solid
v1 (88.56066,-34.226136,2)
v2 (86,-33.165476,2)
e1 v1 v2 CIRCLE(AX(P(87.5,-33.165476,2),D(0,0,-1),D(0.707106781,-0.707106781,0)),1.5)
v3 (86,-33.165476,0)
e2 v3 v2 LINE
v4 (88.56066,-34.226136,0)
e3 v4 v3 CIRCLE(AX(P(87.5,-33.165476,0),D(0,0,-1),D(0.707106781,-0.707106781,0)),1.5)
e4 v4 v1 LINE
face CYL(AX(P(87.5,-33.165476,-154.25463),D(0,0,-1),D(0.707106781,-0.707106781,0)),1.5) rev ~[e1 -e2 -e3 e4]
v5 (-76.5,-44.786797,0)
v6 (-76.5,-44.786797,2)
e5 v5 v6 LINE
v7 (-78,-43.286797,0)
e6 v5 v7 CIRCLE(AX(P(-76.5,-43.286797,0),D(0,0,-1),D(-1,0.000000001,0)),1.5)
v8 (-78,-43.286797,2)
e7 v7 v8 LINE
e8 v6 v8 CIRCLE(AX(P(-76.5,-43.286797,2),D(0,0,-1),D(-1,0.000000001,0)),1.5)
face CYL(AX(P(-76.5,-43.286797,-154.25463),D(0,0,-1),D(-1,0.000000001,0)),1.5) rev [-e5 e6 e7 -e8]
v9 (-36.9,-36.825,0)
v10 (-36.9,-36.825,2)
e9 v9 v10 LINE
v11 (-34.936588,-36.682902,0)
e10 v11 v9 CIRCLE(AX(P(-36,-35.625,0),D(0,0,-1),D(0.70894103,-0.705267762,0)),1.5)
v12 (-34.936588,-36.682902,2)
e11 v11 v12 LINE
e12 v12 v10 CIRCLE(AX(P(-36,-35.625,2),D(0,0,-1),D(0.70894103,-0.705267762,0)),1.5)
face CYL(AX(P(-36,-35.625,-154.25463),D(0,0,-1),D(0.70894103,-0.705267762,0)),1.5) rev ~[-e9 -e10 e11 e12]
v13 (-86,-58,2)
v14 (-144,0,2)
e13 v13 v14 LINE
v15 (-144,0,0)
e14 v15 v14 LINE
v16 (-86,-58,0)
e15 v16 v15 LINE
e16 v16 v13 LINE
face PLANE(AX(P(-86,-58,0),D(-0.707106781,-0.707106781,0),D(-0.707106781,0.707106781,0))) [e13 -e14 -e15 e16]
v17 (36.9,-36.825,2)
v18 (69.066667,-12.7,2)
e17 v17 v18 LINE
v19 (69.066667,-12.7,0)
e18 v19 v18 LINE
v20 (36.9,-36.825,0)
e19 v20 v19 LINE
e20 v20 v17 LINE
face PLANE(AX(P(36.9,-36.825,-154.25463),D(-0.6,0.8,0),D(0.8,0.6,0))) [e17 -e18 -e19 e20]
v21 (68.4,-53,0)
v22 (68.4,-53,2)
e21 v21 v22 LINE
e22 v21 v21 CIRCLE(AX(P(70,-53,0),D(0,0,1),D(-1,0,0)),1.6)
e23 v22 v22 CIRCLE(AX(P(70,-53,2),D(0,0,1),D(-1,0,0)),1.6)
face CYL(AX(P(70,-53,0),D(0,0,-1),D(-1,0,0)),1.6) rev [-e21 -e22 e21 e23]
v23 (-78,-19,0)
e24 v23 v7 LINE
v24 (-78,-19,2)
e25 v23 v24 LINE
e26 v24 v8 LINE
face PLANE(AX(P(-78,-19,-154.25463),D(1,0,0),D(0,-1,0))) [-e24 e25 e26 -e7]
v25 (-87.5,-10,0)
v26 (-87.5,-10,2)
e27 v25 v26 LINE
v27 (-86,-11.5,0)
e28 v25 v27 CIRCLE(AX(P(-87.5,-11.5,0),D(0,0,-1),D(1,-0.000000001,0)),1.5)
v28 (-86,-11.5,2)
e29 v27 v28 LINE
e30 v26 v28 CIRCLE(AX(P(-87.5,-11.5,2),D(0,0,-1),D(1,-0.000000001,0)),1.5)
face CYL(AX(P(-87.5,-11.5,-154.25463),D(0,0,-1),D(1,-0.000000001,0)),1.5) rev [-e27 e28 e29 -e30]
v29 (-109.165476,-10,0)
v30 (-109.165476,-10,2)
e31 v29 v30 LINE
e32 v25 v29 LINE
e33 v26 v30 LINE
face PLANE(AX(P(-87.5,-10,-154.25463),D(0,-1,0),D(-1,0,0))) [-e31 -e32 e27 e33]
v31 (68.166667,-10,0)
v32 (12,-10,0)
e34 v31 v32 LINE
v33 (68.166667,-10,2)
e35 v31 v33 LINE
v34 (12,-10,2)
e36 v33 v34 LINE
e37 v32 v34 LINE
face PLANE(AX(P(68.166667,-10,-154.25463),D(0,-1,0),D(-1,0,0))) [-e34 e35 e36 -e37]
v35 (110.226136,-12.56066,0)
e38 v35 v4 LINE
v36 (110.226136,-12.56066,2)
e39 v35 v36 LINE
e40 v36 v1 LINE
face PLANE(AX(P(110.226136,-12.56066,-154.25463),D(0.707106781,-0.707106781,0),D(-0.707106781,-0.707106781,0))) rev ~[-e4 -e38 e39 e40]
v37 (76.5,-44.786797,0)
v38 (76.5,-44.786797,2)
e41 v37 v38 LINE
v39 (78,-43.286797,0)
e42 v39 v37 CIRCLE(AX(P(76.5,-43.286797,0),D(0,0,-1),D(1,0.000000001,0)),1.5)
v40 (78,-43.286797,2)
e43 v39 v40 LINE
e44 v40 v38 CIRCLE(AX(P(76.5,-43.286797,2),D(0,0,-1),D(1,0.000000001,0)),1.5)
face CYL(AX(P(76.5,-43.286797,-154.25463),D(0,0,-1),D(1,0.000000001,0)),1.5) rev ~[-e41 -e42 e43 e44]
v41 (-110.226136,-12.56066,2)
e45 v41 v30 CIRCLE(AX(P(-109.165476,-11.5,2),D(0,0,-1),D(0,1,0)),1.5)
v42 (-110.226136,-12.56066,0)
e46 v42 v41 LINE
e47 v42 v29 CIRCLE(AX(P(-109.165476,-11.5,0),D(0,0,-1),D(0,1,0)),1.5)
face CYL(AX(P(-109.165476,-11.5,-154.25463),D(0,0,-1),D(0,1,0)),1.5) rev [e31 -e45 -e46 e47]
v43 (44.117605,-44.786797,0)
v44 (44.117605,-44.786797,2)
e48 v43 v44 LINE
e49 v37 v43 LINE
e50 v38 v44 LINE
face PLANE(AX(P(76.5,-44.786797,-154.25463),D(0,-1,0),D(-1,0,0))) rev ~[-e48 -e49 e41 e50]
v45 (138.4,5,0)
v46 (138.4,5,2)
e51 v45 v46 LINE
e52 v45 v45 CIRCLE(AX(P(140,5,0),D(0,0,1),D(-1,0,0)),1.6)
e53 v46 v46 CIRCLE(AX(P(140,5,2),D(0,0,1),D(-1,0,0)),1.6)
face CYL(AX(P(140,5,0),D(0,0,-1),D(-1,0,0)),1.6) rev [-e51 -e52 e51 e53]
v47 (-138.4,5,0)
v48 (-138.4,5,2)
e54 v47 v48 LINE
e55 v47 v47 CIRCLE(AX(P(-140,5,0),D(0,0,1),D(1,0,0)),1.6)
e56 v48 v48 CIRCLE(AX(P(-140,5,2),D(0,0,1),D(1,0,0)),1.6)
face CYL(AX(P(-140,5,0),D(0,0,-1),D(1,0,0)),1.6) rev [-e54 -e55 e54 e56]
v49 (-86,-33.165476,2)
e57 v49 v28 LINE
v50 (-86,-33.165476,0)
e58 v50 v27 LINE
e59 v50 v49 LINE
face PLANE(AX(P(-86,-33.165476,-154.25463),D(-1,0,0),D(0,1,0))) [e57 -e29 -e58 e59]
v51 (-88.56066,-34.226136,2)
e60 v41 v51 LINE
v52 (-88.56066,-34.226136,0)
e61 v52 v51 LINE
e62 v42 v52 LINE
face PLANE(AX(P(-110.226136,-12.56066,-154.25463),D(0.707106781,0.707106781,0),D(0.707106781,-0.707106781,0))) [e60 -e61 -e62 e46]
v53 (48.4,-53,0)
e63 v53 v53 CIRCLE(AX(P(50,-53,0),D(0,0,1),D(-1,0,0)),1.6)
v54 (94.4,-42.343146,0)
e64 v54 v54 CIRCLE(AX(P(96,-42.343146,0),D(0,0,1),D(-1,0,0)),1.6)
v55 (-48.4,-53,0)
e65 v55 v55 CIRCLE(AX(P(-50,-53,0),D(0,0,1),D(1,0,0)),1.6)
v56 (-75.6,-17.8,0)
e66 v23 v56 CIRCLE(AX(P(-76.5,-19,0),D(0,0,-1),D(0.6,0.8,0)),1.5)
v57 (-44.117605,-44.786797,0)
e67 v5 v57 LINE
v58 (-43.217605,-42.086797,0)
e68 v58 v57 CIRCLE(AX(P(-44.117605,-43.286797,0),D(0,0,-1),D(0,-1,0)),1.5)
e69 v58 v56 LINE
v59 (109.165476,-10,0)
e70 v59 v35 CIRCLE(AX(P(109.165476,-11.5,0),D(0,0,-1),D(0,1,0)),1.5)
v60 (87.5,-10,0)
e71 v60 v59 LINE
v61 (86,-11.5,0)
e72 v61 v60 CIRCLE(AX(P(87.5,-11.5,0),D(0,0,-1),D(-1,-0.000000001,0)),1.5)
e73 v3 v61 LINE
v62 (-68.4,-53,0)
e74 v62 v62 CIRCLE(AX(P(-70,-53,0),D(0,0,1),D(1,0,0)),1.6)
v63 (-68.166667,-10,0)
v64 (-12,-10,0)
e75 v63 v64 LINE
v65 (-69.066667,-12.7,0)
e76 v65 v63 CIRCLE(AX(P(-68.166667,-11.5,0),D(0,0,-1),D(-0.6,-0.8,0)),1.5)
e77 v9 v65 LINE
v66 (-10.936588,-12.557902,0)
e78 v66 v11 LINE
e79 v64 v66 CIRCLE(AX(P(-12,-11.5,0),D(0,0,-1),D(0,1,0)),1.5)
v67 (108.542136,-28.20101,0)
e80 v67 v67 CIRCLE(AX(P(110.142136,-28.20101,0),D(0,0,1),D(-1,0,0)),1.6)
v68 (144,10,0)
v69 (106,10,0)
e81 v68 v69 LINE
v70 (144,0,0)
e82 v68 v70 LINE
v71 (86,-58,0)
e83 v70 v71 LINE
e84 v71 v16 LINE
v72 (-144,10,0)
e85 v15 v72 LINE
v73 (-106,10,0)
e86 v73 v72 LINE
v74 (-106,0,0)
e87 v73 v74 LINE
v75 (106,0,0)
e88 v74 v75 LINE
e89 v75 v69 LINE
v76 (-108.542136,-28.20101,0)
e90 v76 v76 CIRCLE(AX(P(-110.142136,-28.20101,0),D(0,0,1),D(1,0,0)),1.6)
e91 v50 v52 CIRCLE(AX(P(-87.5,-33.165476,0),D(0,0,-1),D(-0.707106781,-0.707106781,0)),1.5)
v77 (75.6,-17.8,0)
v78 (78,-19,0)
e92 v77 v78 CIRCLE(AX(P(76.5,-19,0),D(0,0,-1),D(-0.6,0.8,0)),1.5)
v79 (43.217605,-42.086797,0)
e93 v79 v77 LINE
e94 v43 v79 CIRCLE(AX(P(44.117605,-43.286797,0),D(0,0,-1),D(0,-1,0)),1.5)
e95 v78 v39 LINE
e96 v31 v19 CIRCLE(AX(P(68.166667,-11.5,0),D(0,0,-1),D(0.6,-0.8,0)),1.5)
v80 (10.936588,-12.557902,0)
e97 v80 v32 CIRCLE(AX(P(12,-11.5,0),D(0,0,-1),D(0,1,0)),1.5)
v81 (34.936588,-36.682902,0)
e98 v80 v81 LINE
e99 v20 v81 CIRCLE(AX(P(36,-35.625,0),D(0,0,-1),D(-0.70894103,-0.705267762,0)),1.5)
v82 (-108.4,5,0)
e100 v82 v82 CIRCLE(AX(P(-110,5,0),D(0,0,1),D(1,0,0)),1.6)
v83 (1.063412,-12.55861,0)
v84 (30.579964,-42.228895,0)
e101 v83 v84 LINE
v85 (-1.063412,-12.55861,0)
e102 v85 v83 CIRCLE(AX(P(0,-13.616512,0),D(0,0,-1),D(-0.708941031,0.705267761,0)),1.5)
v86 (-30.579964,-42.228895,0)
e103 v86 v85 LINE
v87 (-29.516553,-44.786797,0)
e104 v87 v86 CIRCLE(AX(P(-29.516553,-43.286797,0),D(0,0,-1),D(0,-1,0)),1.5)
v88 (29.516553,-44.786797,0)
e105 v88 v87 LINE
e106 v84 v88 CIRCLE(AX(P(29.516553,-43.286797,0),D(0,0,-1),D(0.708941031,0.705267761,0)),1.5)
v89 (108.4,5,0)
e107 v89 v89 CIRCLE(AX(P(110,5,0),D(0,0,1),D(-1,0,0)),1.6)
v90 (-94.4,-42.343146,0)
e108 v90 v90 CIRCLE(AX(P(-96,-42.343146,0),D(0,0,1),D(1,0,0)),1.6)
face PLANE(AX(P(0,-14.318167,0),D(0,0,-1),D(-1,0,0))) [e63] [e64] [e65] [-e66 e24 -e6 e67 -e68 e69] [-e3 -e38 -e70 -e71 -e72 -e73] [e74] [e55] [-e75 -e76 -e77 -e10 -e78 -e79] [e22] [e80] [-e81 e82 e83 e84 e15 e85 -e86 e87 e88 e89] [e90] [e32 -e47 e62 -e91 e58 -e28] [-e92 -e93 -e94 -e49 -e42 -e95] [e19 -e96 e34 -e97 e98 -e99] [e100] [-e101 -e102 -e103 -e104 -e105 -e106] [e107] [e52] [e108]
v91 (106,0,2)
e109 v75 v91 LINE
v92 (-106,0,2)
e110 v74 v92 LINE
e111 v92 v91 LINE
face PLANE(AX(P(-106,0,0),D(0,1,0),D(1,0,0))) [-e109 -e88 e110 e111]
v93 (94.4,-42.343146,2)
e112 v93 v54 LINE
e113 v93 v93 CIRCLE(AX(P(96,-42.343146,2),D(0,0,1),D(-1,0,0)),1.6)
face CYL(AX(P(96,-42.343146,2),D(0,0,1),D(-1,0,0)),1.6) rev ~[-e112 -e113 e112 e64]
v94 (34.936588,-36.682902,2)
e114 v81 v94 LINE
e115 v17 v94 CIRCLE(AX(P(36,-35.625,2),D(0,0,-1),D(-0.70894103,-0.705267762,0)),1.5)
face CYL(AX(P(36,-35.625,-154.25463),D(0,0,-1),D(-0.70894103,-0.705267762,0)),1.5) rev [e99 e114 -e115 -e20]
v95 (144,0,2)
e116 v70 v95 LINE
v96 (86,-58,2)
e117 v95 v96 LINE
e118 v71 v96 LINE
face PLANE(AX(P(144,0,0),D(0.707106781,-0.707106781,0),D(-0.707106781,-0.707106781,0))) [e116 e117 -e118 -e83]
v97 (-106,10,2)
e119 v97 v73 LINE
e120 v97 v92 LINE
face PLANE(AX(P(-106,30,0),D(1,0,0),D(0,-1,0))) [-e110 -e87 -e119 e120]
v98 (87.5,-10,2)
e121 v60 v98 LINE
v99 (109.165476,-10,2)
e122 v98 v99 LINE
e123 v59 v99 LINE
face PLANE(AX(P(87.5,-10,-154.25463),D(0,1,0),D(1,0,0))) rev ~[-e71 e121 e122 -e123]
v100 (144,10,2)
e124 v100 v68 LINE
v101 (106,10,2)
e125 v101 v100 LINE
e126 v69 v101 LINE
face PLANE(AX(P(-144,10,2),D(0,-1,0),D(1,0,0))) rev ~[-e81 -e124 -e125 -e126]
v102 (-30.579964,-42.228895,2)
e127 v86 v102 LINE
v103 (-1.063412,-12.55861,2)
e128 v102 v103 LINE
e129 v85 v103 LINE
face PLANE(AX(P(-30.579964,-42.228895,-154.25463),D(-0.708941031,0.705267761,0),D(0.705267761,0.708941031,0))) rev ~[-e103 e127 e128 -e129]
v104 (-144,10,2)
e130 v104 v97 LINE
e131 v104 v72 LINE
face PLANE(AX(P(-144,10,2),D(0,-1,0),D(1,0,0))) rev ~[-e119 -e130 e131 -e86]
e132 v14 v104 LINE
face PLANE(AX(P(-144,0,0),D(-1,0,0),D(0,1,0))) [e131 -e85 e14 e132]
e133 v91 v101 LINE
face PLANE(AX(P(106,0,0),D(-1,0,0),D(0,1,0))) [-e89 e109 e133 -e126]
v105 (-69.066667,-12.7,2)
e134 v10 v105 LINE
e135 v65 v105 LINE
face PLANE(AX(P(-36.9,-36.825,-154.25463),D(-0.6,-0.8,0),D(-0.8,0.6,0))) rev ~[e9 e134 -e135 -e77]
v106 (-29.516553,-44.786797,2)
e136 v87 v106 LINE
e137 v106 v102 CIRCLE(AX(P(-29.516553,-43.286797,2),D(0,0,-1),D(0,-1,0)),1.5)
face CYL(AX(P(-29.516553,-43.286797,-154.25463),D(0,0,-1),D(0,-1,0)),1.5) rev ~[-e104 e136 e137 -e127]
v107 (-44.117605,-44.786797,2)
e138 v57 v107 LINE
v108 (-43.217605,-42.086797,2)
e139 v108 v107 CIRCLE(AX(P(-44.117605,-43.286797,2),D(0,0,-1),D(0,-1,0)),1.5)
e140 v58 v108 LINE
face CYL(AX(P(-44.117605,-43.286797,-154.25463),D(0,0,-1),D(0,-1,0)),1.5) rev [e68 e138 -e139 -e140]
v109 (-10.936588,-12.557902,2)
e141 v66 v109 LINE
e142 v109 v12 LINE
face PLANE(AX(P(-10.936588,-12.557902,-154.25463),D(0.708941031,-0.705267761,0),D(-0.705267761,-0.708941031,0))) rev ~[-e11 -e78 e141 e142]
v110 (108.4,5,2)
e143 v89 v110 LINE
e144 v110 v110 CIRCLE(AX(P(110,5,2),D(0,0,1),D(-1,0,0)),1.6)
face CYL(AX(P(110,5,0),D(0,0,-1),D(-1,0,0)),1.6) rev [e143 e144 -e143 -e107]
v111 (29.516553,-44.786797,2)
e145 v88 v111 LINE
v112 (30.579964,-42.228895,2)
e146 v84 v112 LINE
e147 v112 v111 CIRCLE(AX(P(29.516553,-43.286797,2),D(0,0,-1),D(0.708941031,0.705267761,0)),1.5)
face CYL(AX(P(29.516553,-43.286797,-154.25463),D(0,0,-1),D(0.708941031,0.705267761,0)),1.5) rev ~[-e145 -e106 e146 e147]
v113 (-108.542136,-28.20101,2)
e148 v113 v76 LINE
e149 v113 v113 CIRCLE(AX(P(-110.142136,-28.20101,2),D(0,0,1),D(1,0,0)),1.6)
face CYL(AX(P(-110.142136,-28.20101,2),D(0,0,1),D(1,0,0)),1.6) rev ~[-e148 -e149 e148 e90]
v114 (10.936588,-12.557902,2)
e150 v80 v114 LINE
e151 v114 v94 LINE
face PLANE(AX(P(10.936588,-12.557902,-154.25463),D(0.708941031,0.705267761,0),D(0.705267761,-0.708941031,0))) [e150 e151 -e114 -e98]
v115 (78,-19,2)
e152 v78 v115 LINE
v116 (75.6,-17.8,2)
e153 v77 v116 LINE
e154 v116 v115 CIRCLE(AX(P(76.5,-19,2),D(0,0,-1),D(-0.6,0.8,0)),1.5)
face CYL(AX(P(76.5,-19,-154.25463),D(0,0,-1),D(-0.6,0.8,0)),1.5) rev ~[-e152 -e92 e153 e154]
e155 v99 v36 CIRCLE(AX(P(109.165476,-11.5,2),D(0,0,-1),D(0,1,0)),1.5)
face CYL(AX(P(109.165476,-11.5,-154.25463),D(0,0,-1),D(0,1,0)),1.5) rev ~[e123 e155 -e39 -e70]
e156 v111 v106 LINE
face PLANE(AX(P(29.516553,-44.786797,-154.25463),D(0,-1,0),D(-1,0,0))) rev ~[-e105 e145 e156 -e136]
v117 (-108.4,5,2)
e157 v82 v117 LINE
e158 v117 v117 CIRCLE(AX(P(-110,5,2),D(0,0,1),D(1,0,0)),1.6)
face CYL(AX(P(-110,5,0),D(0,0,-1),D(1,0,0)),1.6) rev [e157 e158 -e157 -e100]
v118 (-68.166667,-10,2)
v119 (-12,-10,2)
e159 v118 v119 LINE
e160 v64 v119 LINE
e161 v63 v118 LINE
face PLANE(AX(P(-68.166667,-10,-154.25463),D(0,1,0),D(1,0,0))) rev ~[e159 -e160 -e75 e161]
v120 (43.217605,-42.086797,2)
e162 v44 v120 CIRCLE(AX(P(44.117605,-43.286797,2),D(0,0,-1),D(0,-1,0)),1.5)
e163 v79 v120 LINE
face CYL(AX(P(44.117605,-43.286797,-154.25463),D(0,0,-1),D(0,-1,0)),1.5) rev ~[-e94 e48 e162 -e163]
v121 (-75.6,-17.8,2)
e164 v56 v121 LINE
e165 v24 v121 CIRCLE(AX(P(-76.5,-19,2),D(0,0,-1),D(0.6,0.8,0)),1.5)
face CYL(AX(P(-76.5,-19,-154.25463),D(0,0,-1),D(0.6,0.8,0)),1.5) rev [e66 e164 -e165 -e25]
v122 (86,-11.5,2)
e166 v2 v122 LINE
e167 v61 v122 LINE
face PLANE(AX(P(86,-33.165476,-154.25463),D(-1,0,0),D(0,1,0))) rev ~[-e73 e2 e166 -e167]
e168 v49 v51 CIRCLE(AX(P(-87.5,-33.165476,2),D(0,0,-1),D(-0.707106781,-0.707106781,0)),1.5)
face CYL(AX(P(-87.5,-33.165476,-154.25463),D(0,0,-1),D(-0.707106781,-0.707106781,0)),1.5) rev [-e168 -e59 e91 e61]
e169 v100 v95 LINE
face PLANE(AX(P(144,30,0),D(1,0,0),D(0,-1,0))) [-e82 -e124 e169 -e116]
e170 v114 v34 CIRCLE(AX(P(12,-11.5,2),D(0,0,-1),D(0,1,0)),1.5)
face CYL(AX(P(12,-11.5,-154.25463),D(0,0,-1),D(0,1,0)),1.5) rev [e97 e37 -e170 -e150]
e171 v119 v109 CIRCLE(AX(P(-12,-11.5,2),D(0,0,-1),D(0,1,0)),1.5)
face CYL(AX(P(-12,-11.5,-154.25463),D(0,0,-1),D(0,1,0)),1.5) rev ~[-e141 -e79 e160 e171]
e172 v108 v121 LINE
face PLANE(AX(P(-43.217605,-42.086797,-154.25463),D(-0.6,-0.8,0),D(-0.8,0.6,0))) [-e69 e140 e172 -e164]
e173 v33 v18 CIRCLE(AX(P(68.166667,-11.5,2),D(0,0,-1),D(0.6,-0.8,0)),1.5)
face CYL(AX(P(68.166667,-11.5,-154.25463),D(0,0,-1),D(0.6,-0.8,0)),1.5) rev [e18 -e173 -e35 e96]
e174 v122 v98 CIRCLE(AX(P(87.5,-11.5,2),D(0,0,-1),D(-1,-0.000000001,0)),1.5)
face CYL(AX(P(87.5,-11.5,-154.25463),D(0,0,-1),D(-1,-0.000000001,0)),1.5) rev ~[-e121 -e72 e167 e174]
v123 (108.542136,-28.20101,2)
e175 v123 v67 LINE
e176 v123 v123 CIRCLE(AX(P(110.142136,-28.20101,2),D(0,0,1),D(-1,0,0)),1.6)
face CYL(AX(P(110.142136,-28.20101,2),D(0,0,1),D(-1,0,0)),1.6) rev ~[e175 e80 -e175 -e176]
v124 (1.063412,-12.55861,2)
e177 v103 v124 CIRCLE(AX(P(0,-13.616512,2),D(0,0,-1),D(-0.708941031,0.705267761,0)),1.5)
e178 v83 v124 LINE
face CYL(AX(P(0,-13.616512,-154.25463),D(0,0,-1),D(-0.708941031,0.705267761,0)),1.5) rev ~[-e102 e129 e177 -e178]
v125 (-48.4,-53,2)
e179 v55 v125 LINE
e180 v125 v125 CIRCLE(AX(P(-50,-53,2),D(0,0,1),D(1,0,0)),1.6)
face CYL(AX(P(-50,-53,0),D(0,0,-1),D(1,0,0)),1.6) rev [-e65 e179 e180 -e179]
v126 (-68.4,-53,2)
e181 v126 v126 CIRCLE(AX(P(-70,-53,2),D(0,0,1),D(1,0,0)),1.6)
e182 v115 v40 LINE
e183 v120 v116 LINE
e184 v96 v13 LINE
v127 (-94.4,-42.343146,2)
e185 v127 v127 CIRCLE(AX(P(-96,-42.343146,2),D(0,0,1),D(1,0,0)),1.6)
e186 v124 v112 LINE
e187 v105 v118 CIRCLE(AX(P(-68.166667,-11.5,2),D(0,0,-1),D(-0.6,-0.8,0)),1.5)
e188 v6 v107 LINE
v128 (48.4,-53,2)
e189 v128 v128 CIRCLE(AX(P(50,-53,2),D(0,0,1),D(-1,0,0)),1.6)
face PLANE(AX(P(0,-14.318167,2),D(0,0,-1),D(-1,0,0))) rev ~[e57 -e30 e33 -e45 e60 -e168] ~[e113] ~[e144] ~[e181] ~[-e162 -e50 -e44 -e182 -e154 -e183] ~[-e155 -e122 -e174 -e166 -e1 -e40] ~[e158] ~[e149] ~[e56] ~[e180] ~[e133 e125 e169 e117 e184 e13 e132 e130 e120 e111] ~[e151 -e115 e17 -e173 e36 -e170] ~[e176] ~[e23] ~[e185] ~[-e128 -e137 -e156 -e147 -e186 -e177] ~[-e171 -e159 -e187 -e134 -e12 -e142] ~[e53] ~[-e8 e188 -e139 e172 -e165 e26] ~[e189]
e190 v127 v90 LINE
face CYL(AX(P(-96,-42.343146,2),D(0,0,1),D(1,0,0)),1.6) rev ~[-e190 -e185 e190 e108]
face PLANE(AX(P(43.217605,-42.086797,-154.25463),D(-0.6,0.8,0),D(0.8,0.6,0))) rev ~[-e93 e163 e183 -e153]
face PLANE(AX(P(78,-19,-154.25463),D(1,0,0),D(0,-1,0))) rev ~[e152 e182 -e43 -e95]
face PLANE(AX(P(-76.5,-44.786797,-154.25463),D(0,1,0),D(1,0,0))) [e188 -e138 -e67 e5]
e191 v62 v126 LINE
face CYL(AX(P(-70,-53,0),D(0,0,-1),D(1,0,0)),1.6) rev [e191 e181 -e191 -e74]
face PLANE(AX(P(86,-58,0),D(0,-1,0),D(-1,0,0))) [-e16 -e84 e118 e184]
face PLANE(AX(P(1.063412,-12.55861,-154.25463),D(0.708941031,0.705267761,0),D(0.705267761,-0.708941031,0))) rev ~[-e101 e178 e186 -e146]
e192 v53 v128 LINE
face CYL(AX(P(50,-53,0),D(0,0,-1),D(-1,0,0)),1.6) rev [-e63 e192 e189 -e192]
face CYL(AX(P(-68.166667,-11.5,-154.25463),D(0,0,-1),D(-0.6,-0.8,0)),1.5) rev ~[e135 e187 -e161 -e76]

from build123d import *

# Parameters (mm, degrees)
SKETCH_1_R               = 1.6
EXTRUDE_1_DEPTH          = 2
SKETCH_2_R               = 1.6
CUT_EXTRUDE_1_DEPTH      = 156.254629561
SKETCH_3_W               = 288
SKETCH_3_H               = 20
CUT_EXTRUDE_2_DEPTH      = 156.254629561
CUT_EXTRUDE_3_DEPTH      = 156.254629561
CUT_EXTRUDE_3_DEPTH_BACK = 156.254629561


with BuildPart() as part:
    # 草图1 → 凸台-拉伸1 (new body)
    with BuildSketch(Plane.XY):
        Polygon((-106, 30), (-106, 0), (106, 0), (106, 30), (144, 30), (144, 0), (86, -58), (-86, -58), (-144, 0), (-144, 30), align=None)
        with Locations((-140, 25)):
            Circle(SKETCH_1_R, mode=Mode.SUBTRACT)
        with Locations((-110, 25)):
            Circle(SKETCH_1_R, mode=Mode.SUBTRACT)
        with Locations((-110, 5)):
            Circle(SKETCH_1_R, mode=Mode.SUBTRACT)
        with Locations((-140, 5)):
            Circle(SKETCH_1_R, mode=Mode.SUBTRACT)
        with Locations(Location((140, 5, 0), (0, 0, 180))):
            Circle(SKETCH_1_R, mode=Mode.SUBTRACT)
        with Locations(Location((110, 5, 0), (0, 0, 180))):
            Circle(SKETCH_1_R, mode=Mode.SUBTRACT)
        with Locations(Location((110, 25, 0), (0, 0, 180))):
            Circle(SKETCH_1_R, mode=Mode.SUBTRACT)
        with Locations(Location((140, 25, 0), (0, 0, 180))):
            Circle(SKETCH_1_R, mode=Mode.SUBTRACT)
        with Locations((-70, -53)):
            Circle(SKETCH_1_R, mode=Mode.SUBTRACT)
        with Locations((-50, -53)):
            Circle(SKETCH_1_R, mode=Mode.SUBTRACT)
        with Locations(Location((50, -53, 0), (0, 0, 180))):
            Circle(SKETCH_1_R, mode=Mode.SUBTRACT)
        with Locations(Location((70, -53, 0), (0, 0, 180))):
            Circle(SKETCH_1_R, mode=Mode.SUBTRACT)
    extrude(amount=EXTRUDE_1_DEPTH)

    # 草图2 → 切除-拉伸1 (cut, through all)
    with BuildSketch(Plane.XY.offset(2)):
        with Locations((-110.142135624, -28.201010127)):
            Circle(SKETCH_2_R)
        with Locations((-96, -42.343145751)):
            Circle(SKETCH_2_R)
        with Locations(Location((96, -42.343145751, 0), (0, 0, 180))):
            Circle(SKETCH_2_R)
        with Locations(Location((110.142135624, -28.201010127, 0), (0, 0, 180))):
            Circle(SKETCH_2_R)
    extrude(amount=-CUT_EXTRUDE_1_DEPTH, mode=Mode.SUBTRACT)

    # 草图3 → 切除-拉伸2 (cut, through all)
    with BuildSketch(Plane.XY.offset(2)):
        with Locations((0, 20)):
            Rectangle(SKETCH_3_W, SKETCH_3_H)
    extrude(amount=-CUT_EXTRUDE_2_DEPTH, mode=Mode.SUBTRACT)

    # 草图4 → 切除-拉伸3 (cut, two sides: drawn at the far end of the back side and taken through both)
    with BuildSketch(Plane.XY.offset(2).offset(-CUT_EXTRUDE_3_DEPTH_BACK)):
        with BuildLine():
            Line((-110.226136393, -12.560660172), (-88.560660172, -34.226136393))
            ThreePointArc((-88.560660172, -34.226136393), (-86.925974851, -34.55129552), (-86, -33.165476221))
            Line((-86, -33.165476221), (-86, -11.5))
            ThreePointArc((-86, -11.5), (-86.439339828, -10.439339828), (-87.5, -10))
            Line((-87.5, -10), (-109.165476221, -10))
            ThreePointArc((-109.165476221, -10), (-110.55129552, -10.925974851), (-110.226136393, -12.560660172))
        make_face()
        with BuildLine():
            Line((-78, -19), (-78, -43.286796564))
            ThreePointArc((-78, -43.286796564), (-77.560660172, -44.347456736), (-76.5, -44.786796564))
            Line((-76.5, -44.786796564), (-44.117604581, -44.786796564))
            ThreePointArc((-44.117604581, -44.786796564), (-42.694579634, -43.761138213), (-43.217604581, -42.086796564))
            Line((-43.217604581, -42.086796564), (-75.6, -17.8))
            ThreePointArc((-75.6, -17.8), (-77.170820393, -17.658359214), (-78, -19))
        make_face()
        with BuildLine():
            Line((-68.166666667, -10), (-12, -10))
            ThreePointArc((-12, -10), (-10.614927355, -10.924175575), (-10.936588454, -12.557901642))
            Line((-10.936588454, -12.557901642), (-34.936588454, -36.682901642))
            ThreePointArc((-34.936588454, -36.682901642), (-35.891723413, -37.121086956), (-36.9, -36.825))
            Line((-36.9, -36.825), (-69.066666667, -12.7))
            ThreePointArc((-69.066666667, -12.7), (-69.589691614, -11.025658351), (-68.166666667, -10))
        make_face()
        with BuildLine():
            Line((36.9, -36.825), (69.066666667, -12.7))
            ThreePointArc((69.066666667, -12.7), (69.589691614, -11.025658351), (68.166666667, -10))
            Line((68.166666667, -10), (12, -10))
            ThreePointArc((12, -10), (10.614927355, -10.924175575), (10.936588454, -12.557901642))
            Line((10.936588454, -12.557901642), (34.936588454, -36.682901642))
            ThreePointArc((34.936588454, -36.682901642), (35.891723413, -37.121086956), (36.9, -36.825))
        make_face()
        with BuildLine():
            Line((43.217604581, -42.086796564), (75.6, -17.8))
            ThreePointArc((75.6, -17.8), (77.170820393, -17.658359214), (78, -19))
            Line((78, -19), (78, -43.286796564))
            ThreePointArc((78, -43.286796564), (77.560660172, -44.347456736), (76.5, -44.786796564))
            Line((76.5, -44.786796564), (44.117604581, -44.786796564))
            ThreePointArc((44.117604581, -44.786796564), (42.694579634, -43.761138213), (43.217604581, -42.086796564))
        make_face()
        with BuildLine():
            Line((87.5, -10), (109.165476221, -10))
            ThreePointArc((109.165476221, -10), (110.55129552, -10.925974851), (110.226136393, -12.560660172))
            Line((110.226136393, -12.560660172), (88.560660172, -34.226136393))
            ThreePointArc((88.560660172, -34.226136393), (86.925974851, -34.55129552), (86, -33.165476221))
            Line((86, -33.165476221), (86, -11.5))
            ThreePointArc((86, -11.5), (86.439339828, -10.439339828), (87.5, -10))
        make_face()
        with BuildLine():
            Line((-30.579964135, -42.228894923), (-1.063411546, -12.558610289))
            ThreePointArc((-1.063411546, -12.558610289), (0, -12.116511931), (1.063411546, -12.558610289))
            Line((1.063411546, -12.558610289), (30.579964135, -42.228894923))
            ThreePointArc((30.579964135, -42.228894923), (30.901625233, -43.86262099), (29.516552589, -44.786796564))
            Line((29.516552589, -44.786796564), (-29.516552589, -44.786796564))
            ThreePointArc((-29.516552589, -44.786796564), (-30.901625233, -43.86262099), (-30.579964135, -42.228894923))
        make_face()
    extrude(amount=CUT_EXTRUDE_3_DEPTH + CUT_EXTRUDE_3_DEPTH_BACK, mode=Mode.SUBTRACT)


solid = part.part
